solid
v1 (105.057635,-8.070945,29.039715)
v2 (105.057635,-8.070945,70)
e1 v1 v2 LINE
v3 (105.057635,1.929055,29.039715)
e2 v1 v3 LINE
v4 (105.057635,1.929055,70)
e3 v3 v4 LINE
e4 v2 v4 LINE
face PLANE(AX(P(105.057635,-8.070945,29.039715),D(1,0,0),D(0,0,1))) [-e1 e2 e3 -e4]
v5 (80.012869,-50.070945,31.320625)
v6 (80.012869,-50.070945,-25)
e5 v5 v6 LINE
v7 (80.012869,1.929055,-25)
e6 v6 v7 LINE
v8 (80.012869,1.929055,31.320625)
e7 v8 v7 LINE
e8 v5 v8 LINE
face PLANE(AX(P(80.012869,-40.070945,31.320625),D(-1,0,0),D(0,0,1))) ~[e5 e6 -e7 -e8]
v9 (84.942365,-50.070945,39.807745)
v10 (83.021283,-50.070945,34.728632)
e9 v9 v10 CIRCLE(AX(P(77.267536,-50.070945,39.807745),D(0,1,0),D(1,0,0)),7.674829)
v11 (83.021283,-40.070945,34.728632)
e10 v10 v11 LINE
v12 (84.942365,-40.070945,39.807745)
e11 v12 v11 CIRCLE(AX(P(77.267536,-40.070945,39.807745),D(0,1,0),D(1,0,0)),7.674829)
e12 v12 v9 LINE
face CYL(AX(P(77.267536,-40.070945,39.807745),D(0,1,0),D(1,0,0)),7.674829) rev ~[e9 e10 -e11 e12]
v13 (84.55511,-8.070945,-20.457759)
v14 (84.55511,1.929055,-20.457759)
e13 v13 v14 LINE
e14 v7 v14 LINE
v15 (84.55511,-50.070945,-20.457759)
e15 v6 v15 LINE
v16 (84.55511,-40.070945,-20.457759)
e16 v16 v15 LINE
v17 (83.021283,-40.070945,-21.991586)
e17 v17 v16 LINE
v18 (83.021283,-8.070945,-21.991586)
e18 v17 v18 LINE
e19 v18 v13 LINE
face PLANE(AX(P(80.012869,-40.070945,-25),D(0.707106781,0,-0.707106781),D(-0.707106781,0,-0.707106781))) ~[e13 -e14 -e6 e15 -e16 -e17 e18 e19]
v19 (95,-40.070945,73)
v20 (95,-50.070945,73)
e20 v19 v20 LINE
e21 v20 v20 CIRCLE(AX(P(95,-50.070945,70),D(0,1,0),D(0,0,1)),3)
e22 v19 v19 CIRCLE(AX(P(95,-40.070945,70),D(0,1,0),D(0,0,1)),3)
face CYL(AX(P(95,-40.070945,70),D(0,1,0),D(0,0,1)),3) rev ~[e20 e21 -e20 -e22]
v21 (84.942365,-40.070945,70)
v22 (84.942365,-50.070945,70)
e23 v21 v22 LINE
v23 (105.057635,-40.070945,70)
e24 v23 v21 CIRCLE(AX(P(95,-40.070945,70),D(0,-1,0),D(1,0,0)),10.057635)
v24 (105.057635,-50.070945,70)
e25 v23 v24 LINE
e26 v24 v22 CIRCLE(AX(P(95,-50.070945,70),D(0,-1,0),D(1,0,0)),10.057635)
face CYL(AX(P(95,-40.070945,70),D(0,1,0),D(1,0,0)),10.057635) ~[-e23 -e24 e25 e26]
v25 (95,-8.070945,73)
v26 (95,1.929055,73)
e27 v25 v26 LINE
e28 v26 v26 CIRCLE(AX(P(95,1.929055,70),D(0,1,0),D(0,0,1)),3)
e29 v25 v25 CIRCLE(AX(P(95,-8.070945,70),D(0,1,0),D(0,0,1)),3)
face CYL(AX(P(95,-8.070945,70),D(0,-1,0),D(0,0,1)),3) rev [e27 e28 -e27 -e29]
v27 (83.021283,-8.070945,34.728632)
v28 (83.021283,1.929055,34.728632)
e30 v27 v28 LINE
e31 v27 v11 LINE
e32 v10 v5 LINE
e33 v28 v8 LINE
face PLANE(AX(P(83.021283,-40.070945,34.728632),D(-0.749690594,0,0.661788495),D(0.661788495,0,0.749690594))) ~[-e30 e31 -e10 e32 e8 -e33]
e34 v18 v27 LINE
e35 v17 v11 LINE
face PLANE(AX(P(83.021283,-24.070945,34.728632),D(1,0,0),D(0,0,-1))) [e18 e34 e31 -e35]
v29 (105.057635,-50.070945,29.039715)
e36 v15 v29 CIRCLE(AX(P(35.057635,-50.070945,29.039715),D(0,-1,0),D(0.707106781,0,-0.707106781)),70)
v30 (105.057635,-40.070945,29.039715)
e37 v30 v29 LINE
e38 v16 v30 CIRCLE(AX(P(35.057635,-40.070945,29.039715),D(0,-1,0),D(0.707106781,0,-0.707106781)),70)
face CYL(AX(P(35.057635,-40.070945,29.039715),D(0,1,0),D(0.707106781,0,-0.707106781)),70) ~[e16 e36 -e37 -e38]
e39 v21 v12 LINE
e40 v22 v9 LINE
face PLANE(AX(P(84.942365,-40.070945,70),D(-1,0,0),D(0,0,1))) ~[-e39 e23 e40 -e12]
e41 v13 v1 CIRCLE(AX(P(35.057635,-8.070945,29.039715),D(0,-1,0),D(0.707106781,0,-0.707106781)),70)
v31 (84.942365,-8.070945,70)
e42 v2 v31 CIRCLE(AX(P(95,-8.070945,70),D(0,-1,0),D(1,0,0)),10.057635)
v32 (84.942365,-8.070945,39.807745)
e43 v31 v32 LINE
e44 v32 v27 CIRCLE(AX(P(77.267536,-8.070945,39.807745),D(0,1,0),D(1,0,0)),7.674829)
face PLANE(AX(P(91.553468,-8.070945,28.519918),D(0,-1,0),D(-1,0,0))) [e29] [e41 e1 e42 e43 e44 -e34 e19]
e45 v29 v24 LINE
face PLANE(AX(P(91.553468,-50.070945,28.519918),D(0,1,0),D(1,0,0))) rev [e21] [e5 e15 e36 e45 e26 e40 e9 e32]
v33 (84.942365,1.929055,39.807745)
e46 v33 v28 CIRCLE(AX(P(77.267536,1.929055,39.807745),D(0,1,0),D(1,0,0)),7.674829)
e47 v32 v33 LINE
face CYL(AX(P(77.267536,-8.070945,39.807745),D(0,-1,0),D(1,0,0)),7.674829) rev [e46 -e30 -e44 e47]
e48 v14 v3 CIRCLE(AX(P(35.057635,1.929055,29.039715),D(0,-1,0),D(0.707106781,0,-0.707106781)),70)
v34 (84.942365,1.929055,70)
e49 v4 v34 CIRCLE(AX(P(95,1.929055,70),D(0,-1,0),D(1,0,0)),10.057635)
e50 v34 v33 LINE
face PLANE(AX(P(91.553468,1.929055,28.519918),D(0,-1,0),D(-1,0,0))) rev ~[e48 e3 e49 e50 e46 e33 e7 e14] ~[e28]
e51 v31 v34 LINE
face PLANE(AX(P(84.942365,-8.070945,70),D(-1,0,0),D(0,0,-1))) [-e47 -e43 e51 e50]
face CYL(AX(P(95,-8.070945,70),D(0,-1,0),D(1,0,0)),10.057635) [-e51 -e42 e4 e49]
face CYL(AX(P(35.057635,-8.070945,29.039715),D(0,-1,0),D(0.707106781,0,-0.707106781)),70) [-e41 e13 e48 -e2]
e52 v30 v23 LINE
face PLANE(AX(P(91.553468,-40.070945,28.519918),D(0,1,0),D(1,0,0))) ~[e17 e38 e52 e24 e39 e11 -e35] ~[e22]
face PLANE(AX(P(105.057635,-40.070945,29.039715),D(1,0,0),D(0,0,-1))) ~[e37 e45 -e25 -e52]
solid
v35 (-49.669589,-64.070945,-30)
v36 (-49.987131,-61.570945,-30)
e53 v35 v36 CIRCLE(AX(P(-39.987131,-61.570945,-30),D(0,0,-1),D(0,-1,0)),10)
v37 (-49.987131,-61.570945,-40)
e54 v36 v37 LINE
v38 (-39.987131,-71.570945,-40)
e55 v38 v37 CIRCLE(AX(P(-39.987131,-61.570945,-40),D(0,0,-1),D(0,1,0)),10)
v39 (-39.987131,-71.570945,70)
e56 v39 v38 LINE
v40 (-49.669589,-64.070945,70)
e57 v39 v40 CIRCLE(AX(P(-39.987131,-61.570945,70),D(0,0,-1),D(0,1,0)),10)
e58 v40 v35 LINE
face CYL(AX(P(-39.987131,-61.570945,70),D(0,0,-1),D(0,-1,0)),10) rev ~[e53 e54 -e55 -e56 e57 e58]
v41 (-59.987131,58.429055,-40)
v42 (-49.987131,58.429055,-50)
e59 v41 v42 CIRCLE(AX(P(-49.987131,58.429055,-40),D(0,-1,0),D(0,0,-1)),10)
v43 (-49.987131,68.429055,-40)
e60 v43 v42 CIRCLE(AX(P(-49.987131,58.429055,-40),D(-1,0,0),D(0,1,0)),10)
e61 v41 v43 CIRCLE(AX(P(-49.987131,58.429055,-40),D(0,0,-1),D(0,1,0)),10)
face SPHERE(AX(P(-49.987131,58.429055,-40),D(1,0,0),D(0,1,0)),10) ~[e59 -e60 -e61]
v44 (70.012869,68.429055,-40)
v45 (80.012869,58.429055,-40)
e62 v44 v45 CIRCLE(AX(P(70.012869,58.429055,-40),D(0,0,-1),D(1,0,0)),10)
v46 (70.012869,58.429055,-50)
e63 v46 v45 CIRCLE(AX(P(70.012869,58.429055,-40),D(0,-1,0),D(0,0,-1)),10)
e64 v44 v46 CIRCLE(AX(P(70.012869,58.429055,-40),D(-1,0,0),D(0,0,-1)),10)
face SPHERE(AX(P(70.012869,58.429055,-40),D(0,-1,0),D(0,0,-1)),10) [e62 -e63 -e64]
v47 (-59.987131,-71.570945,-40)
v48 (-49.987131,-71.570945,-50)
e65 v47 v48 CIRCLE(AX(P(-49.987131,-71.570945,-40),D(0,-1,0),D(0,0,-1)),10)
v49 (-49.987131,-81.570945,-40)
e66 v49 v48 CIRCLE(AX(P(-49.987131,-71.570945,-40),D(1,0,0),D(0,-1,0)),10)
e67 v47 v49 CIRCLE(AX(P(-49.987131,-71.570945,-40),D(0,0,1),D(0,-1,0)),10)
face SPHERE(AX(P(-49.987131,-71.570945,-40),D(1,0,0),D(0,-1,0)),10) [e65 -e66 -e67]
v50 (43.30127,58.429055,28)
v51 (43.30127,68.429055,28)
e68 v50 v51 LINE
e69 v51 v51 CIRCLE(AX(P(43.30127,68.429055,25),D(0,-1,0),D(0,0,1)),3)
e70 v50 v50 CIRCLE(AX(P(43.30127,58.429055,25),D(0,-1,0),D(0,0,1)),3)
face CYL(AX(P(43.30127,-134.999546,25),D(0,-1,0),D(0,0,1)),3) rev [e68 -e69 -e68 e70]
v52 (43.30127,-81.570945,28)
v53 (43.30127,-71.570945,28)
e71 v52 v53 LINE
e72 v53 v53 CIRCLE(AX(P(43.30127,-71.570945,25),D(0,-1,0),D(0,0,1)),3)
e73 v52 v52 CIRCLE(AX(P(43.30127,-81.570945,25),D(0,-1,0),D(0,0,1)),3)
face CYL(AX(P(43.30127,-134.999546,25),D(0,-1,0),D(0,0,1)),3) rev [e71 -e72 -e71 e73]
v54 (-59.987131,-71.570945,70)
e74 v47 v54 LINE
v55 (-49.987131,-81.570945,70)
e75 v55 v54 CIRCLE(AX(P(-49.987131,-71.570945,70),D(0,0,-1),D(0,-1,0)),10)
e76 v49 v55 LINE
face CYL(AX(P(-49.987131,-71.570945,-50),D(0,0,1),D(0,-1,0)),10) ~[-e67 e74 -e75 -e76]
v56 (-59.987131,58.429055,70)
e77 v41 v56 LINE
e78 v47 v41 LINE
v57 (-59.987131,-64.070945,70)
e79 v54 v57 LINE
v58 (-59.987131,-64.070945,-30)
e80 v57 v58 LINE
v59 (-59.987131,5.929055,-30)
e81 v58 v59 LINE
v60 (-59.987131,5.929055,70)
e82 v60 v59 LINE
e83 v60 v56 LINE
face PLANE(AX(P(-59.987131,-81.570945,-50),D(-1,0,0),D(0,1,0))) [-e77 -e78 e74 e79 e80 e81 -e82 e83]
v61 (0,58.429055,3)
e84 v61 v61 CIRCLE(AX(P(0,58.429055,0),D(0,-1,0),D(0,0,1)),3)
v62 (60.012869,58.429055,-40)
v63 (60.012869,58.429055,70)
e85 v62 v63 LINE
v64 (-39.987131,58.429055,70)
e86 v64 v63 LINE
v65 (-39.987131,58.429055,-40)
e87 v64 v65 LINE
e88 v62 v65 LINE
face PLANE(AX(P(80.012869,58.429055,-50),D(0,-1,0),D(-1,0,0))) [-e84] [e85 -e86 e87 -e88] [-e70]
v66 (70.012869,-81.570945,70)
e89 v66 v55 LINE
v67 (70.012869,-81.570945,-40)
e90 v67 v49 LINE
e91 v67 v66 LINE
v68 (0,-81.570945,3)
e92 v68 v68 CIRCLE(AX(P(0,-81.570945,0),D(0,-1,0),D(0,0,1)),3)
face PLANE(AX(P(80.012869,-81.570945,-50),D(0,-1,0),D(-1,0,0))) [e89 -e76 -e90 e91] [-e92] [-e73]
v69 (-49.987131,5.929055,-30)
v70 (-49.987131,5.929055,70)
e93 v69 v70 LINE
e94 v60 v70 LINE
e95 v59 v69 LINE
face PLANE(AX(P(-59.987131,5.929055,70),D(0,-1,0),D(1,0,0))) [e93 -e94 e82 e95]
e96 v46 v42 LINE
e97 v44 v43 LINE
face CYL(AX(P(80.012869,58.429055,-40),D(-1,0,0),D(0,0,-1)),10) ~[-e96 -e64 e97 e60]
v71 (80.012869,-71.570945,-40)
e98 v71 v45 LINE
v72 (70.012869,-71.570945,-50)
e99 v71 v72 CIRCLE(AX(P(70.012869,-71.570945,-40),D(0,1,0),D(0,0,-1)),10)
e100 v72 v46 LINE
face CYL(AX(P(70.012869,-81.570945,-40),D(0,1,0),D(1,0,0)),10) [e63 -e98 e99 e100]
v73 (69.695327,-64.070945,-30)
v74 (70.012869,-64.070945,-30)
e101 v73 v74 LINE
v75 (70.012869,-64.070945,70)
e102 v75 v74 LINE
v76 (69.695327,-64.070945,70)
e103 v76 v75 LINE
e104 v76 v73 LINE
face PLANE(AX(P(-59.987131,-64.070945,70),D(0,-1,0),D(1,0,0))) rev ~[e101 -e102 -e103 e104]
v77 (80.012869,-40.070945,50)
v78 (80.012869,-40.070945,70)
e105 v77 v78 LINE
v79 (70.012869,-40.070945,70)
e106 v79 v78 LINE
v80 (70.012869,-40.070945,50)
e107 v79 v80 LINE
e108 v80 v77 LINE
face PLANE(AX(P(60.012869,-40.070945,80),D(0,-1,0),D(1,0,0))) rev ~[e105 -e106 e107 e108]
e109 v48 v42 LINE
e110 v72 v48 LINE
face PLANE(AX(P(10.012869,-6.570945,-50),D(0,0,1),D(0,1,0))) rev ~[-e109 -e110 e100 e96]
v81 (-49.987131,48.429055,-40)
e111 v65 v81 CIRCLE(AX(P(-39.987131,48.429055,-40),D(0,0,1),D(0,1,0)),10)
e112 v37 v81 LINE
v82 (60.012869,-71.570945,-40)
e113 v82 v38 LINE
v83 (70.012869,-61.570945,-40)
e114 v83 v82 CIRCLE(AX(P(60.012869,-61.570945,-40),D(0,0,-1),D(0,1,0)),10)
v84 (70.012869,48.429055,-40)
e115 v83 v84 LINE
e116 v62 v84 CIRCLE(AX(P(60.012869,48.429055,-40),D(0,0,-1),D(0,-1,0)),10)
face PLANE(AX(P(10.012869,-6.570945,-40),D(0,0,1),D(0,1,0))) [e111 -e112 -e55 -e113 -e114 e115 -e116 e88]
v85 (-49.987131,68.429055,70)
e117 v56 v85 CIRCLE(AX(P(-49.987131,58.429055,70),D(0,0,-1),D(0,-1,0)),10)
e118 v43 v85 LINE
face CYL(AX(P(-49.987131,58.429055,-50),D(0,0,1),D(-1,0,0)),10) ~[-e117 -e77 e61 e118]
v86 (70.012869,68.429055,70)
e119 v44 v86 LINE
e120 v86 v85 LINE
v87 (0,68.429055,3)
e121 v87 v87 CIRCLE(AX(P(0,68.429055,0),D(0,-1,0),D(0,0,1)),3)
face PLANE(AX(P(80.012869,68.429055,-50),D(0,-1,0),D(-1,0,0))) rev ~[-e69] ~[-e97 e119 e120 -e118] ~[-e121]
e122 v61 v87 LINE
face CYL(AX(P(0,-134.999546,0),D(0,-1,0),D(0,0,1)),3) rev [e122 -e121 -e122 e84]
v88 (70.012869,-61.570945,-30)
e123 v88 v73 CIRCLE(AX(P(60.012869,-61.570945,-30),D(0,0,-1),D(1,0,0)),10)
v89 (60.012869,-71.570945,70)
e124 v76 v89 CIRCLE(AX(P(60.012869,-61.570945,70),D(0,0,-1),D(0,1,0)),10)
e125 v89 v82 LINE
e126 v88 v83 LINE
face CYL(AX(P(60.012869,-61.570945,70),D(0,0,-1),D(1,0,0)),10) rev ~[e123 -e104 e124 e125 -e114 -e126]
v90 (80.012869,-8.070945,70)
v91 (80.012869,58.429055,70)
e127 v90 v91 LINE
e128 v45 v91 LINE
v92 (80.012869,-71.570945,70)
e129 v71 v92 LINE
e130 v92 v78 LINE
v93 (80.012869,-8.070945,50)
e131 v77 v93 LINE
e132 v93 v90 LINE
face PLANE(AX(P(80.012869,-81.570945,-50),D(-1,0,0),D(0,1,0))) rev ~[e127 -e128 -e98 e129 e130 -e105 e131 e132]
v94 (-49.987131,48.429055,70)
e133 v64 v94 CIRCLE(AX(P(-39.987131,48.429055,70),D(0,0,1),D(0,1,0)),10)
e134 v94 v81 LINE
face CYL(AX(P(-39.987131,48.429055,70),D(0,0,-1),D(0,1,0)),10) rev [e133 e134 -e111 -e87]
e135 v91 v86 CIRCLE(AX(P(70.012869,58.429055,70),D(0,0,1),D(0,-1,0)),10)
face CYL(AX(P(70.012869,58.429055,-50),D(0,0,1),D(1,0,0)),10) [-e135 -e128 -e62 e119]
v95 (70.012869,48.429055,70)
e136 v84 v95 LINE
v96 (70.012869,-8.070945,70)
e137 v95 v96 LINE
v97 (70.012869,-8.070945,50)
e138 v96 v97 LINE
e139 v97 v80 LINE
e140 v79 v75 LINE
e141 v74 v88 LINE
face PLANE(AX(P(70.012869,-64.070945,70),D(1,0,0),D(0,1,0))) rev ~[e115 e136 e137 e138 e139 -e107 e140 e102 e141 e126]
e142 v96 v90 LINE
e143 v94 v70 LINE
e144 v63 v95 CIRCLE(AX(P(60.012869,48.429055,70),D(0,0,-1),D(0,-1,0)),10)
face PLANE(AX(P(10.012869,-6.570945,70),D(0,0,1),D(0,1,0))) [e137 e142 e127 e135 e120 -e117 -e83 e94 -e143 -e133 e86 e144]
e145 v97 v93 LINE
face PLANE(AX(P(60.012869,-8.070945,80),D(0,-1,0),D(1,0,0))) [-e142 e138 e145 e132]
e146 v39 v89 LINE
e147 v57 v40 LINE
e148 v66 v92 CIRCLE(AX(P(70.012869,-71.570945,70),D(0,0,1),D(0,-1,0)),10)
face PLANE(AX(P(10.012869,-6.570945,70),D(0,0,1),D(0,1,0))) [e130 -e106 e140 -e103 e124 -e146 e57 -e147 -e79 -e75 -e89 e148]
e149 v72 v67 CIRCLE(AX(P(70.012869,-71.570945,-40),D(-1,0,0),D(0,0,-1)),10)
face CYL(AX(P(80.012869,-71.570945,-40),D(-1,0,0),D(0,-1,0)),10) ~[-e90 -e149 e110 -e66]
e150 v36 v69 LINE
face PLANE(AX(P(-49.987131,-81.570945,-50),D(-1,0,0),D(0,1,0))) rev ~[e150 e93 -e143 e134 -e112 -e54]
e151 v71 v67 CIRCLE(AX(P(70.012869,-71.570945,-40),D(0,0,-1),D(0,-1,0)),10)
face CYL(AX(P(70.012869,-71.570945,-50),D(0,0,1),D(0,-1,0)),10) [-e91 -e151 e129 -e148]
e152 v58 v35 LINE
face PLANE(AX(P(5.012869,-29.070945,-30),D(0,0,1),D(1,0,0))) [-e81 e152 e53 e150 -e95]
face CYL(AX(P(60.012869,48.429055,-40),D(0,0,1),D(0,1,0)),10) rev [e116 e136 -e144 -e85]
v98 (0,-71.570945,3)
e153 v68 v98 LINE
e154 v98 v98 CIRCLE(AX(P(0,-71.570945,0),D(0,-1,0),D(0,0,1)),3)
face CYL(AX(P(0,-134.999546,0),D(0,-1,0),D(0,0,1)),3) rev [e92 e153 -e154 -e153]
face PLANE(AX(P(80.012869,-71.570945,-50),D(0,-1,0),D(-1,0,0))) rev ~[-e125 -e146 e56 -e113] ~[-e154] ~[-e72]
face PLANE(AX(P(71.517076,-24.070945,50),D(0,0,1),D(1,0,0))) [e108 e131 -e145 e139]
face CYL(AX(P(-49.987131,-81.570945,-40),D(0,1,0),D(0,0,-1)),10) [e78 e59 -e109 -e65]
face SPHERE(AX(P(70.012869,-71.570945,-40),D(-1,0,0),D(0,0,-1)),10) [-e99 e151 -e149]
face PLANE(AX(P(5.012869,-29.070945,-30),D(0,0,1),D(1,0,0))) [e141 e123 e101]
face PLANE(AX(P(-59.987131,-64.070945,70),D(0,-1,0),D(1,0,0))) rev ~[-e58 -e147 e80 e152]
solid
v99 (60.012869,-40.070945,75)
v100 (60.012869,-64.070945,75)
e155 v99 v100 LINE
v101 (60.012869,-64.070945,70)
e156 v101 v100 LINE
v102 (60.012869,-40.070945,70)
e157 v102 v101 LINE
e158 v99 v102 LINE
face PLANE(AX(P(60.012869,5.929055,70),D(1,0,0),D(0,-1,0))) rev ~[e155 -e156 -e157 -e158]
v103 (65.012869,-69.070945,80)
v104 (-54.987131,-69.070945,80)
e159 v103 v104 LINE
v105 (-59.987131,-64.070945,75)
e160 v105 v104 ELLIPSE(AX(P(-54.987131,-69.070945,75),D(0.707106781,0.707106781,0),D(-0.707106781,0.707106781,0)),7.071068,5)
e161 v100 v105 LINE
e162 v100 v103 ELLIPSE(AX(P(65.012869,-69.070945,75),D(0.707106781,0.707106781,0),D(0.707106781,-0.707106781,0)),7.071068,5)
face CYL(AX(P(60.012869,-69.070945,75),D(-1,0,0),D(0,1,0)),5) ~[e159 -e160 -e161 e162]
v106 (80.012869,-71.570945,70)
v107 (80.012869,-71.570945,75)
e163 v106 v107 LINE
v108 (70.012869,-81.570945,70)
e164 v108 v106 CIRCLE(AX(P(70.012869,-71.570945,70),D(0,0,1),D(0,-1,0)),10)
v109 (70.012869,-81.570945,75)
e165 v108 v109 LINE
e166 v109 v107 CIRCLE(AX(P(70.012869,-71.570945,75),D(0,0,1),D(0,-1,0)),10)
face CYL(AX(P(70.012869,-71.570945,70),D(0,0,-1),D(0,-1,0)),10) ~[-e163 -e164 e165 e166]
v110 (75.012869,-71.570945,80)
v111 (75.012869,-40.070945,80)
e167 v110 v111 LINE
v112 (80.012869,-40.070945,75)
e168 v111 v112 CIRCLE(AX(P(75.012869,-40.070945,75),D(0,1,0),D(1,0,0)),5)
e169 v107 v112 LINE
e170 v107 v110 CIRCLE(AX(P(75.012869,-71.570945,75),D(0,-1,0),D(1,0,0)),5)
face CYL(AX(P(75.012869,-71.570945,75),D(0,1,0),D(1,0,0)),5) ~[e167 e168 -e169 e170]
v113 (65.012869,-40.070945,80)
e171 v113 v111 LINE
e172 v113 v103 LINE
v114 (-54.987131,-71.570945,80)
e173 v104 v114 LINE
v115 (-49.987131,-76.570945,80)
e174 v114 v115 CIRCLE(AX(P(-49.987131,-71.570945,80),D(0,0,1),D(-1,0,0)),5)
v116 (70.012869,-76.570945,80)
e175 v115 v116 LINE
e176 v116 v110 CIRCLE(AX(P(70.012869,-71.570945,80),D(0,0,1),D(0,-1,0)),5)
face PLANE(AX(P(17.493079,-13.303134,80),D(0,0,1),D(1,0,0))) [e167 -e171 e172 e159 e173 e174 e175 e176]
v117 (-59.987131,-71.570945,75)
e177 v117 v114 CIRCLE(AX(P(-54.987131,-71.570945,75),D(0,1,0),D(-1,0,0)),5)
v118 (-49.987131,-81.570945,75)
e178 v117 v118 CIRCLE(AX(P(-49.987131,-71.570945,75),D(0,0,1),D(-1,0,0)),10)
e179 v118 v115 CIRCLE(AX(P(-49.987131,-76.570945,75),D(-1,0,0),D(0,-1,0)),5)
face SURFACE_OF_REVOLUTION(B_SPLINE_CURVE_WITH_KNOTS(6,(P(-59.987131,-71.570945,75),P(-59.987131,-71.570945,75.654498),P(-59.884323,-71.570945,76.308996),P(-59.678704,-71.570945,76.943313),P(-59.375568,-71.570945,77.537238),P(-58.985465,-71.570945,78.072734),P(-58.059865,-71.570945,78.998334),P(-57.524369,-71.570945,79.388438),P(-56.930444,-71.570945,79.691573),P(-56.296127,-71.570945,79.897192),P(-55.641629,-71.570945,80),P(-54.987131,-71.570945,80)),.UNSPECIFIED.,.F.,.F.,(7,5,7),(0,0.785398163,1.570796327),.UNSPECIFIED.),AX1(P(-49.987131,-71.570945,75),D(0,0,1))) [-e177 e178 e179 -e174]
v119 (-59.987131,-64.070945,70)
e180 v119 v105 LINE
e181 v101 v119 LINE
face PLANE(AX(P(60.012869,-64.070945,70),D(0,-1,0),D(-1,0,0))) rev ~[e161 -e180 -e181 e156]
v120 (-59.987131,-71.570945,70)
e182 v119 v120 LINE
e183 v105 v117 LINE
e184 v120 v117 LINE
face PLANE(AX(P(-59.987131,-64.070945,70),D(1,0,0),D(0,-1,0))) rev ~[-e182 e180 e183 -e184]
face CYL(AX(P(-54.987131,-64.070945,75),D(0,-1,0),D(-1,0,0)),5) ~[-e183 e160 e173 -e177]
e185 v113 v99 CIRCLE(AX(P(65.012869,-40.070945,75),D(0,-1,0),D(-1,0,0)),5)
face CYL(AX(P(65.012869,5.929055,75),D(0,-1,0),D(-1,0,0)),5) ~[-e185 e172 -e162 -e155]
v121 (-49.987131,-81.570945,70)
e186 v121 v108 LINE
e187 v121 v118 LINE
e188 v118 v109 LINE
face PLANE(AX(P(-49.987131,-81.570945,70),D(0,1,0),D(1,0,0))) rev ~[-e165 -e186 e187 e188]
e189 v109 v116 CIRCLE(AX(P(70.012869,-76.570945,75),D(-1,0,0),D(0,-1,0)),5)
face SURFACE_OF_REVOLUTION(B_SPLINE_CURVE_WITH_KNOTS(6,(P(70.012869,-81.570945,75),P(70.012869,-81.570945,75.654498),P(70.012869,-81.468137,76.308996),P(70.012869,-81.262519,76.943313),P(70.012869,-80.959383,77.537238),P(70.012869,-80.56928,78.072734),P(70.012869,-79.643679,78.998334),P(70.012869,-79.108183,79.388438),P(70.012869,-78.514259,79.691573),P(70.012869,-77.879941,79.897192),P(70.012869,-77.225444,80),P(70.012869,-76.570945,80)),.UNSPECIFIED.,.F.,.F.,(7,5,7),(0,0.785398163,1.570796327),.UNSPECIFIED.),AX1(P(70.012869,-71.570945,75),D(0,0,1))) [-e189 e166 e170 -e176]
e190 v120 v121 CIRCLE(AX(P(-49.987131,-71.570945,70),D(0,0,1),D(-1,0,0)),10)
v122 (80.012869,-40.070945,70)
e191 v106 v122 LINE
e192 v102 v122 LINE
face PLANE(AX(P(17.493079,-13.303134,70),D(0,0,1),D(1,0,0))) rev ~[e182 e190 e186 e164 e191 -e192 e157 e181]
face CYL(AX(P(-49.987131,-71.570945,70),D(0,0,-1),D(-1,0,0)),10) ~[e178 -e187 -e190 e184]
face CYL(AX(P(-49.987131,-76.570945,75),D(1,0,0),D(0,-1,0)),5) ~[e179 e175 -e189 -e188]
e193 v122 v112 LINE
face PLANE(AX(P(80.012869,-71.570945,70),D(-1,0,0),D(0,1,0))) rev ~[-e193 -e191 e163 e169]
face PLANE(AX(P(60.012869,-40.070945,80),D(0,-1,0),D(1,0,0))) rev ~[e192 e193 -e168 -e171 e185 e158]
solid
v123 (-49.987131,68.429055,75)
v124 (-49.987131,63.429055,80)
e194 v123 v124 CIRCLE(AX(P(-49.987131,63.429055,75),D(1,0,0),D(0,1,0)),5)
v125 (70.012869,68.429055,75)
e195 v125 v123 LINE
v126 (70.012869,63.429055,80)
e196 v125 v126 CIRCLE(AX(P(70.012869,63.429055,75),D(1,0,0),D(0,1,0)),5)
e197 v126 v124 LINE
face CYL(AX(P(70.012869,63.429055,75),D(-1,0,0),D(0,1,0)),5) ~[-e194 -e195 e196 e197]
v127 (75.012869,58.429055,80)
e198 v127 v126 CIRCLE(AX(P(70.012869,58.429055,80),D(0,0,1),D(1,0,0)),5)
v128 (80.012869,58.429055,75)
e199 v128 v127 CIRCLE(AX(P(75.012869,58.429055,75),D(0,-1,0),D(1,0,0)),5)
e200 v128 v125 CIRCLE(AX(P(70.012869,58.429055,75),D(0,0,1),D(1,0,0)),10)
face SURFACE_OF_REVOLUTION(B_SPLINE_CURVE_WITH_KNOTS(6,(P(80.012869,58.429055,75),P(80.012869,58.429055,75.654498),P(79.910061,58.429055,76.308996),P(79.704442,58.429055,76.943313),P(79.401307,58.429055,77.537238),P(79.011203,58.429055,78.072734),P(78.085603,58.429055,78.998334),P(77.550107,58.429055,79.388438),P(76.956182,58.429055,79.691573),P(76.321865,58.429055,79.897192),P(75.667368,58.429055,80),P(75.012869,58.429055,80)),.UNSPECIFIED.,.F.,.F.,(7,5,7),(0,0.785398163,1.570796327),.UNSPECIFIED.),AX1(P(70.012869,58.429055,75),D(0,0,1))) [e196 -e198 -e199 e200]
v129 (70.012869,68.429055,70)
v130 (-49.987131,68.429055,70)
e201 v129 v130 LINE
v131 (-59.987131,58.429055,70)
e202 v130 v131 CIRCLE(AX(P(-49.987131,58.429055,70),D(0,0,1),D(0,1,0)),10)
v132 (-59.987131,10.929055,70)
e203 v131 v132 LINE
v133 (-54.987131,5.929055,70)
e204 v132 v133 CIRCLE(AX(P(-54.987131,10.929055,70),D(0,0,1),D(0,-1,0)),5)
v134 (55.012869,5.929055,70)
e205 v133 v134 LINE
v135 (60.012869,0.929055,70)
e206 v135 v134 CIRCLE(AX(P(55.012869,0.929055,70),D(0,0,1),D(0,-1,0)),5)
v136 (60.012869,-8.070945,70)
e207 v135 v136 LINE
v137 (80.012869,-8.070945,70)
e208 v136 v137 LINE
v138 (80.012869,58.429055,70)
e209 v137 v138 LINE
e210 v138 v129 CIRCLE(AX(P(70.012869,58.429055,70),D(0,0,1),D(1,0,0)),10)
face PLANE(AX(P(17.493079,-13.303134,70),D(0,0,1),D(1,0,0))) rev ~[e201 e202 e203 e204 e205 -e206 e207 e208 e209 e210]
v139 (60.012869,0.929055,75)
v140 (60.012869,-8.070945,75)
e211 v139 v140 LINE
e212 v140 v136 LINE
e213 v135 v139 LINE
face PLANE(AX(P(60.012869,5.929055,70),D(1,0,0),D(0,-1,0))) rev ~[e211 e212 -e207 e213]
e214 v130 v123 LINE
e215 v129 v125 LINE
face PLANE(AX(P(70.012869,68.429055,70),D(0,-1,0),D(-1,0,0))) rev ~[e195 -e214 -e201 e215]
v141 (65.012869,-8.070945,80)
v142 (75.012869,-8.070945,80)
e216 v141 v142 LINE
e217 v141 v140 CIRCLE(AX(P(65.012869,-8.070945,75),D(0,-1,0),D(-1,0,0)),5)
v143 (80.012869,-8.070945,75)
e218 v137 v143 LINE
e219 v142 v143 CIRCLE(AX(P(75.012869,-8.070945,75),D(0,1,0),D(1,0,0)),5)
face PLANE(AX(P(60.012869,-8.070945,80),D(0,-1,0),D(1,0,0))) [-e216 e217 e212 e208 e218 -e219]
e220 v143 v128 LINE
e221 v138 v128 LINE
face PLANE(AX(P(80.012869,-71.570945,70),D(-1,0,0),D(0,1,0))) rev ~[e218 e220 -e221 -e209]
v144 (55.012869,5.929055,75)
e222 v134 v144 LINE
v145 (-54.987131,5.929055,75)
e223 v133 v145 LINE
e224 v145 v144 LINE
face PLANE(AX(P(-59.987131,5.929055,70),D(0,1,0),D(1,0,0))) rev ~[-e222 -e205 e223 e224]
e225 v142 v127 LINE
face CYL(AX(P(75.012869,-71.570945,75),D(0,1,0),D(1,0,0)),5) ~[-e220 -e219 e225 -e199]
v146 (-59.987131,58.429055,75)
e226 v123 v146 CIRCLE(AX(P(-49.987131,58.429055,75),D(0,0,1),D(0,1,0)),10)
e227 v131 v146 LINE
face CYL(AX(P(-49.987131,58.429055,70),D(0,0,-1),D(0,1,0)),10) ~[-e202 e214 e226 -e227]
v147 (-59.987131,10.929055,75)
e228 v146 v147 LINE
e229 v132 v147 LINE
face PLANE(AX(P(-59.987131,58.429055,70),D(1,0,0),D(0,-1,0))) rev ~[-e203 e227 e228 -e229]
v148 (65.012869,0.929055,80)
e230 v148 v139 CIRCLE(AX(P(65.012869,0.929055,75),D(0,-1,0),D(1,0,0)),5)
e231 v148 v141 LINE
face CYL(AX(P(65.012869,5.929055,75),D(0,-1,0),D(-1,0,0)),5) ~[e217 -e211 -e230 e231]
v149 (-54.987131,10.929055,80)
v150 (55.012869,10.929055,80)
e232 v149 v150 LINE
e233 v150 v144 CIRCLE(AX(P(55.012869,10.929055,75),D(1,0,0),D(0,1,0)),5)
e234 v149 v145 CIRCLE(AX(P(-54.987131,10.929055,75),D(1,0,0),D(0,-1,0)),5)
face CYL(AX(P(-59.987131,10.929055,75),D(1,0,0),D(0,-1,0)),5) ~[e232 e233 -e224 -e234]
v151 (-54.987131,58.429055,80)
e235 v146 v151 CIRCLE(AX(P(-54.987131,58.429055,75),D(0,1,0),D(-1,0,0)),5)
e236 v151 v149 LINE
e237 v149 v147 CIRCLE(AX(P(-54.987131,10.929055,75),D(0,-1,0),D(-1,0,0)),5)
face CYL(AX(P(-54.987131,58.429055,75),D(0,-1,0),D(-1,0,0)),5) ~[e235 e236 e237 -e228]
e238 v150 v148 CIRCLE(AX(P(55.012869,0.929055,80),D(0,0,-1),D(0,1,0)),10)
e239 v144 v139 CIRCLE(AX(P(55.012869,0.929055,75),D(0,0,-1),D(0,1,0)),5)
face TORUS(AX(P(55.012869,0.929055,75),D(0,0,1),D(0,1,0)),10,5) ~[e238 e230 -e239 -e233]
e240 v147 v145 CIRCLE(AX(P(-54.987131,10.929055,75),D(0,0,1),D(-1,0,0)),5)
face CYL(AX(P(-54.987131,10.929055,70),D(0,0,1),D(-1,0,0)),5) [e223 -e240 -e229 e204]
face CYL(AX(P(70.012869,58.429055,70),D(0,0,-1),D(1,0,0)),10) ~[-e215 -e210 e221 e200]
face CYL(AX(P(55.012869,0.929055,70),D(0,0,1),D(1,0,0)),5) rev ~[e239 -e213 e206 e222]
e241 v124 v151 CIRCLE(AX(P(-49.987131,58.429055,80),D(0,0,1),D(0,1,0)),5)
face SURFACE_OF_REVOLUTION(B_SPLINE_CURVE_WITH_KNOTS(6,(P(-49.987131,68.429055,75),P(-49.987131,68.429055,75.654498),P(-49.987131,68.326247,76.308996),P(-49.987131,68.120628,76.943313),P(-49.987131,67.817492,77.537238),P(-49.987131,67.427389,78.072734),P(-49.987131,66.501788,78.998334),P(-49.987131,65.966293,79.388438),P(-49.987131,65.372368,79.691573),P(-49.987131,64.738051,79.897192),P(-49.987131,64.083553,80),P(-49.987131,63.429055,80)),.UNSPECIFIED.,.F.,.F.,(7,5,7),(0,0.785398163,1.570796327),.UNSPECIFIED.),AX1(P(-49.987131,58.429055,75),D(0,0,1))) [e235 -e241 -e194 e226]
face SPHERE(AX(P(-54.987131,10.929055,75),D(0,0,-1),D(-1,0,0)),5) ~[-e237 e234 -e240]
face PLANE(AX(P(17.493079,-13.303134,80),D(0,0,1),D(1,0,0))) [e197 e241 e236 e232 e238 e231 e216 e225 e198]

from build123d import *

# Parameters (mm, degrees)
SALIENTE_EXTRUIR1_DEPTH      = 70
SALIENTE_EXTRUIR1_DEPTH_BACK = 50
CROQUIS2_W                   = 150
CROQUIS2_H                   = 140
VACIADO1_T                   = -10
CORTAR_EXTRUIR1_DEPTH        = 134.999546005
CORTAR_EXTRUIR1_DEPTH_BACK   = 134.999546005
CROQUIS4_R                   = 3
REDONDEO9_R                  = 10
CROQUIS6_W                   = 130
CROQUIS6_H                   = 70
CORTAR_EXTRUIR3_DEPTH        = 100
SALIENTE_EXTRUIR2_DEPTH      = 10
REDONDEO17_R                 = 5
SALIENTE_EXTRUIR3_START      = 16
CROQUIS8_R                   = 3
SALIENTE_EXTRUIR3_DEPTH      = 10
SALIENTE_EXTRUIR4_DEPTH      = 25
CROQUIS11_W                  = 23.008413994
CROQUIS11_H                  = 32
CORTAR_EXTRUIR4_DEPTH        = 30


with BuildPart() as part:
    # Croquis2 → Saliente-Extruir1 (new, two sides: drawn at the far end of the back side and taken through both)
    with BuildSketch(Plane(origin=(0, 0, 0), x_dir=(0, 1, 0), z_dir=(0, 0, 1)).offset(-SALIENTE_EXTRUIR1_DEPTH_BACK)):
        with Locations((-6.570945305, -10.012869037)):
            Rectangle(CROQUIS2_W, CROQUIS2_H)
    extrude(amount=SALIENTE_EXTRUIR1_DEPTH + SALIENTE_EXTRUIR1_DEPTH_BACK)

    # Vaciado1
    vaciado1_openings = [part.faces().sort_by_distance(p)[0] for p in [
        (10.012869037, -6.570945305, 70),
    ]]
    offset(amount=VACIADO1_T, openings=vaciado1_openings, kind=Kind.INTERSECTION)

    # Croquis4 → Cortar-Extruir1 (cut, two sides: drawn at the far end of the back side and taken through both)
    with BuildSketch(Plane(origin=(0, 0, 0), x_dir=(-1, 0, 0), z_dir=(0, 1, 0)).offset(-CORTAR_EXTRUIR1_DEPTH_BACK)):
        Circle(CROQUIS4_R)
        with Locations((-43.301270189, 25)):
            Circle(CROQUIS4_R)
    extrude(amount=CORTAR_EXTRUIR1_DEPTH + CORTAR_EXTRUIR1_DEPTH_BACK, mode=Mode.SUBTRACT)

    # Redondeo9
    redondeo9_edges = [part.edges().sort_by_distance(p)[0] for p in [
        (-59.987130963, -6.570945305, -50),
        (-59.987130963, 68.429054695, 10),
        (10.012869037, -81.570945305, -50),
        (-59.987130963, -81.570945305, 10),
        (80.012869037, -6.570945305, -50),
        (80.012869037, -81.570945305, 10),
        (80.012869037, 68.429054695, 10),
        (10.012869037, 68.429054695, -50),
        (70.012869037, 58.429054695, 15),
        (70.012869037, -71.570945305, 15),
        (-49.987130963, 58.429054695, 15),
        (-49.987130963, -71.570945305, 15),
    ]]
    fillet(redondeo9_edges, radius=REDONDEO9_R)

    # Croquis6 → Cortar-Extruir3 (cut)
    with BuildSketch(Plane.XY.offset(70)):
        with Locations((5.012869037, -29.070945305)):
            Rectangle(CROQUIS6_W, CROQUIS6_H)
    extrude(amount=-CORTAR_EXTRUIR3_DEPTH, mode=Mode.SUBTRACT)


with BuildPart() as body_2:
    # Croquis7 → Saliente-Extruir2 (new body)
    with BuildSketch(Plane.XY.offset(70)):
        with BuildLine():
            Line((60.012869037, 5.929054695), (60.012869037, -8.070945305))
            Line((60.012869037, -8.070945305), (60.012869037, -40.070945305))
            Line((60.012869037, -40.070945305), (60.012869037, -64.070945305))
            Line((60.012869037, -64.070945305), (-59.987130963, -64.070945305))
            Line((-59.987130963, -64.070945305), (-59.987130963, -71.570945305))
            ThreePointArc((-59.987130963, -71.570945305), (-57.058198775, -78.642013117), (-49.987130963, -81.570945305))
            Line((-49.987130963, -81.570945305), (70.012869037, -81.570945305))
            ThreePointArc((70.012869037, -81.570945305), (77.083936849, -78.642013117), (80.012869037, -71.570945305))
            Line((80.012869037, -71.570945305), (80.012869037, -40.070945305))
            Line((80.012869037, -40.070945305), (80.012869037, -8.070945305))
            Line((80.012869037, -8.070945305), (80.012869037, 58.429054695))
            ThreePointArc((80.012869037, 58.429054695), (77.083936849, 65.500122507), (70.012869037, 68.429054695))
            Line((70.012869037, 68.429054695), (-49.987130963, 68.429054695))
            ThreePointArc((-49.987130963, 68.429054695), (-57.058198775, 65.500122507), (-59.987130963, 58.429054695))
            Line((-59.987130963, 58.429054695), (-59.987130963, 5.929054695))
            Line((-59.987130963, 5.929054695), (60.012869037, 5.929054695))
        make_face()
    extrude(amount=SALIENTE_EXTRUIR2_DEPTH)

    # Redondeo17
    redondeo17_edges = [body_2.edges().sort_by_distance(p)[0] for p in [
        (-59.987130963, -67.820945305, 80),
        (-57.058198775, -78.642013117, 80),
        (10.012869037, -81.570945305, 80),
        (77.083936849, -78.642013117, 80),
        (80.012869037, -6.570945305, 80),
        (77.083936849, 65.500122507, 80),
        (10.012869037, 68.429054695, 80),
        (-57.058198775, 65.500122507, 80),
        (-59.987130963, 32.179054695, 80),
        (60.012869037, 5.929054695, 75),
        (60.012869037, -29.070945305, 80),
        (0.012869037, -64.070945305, 80),
        (0.012869037, 5.929054695, 80),
        (-59.987130963, 5.929054695, 75),
    ]]
    fillet(redondeo17_edges, radius=REDONDEO17_R)


with BuildPart() as body_3:
    # Croquis8 → Saliente-Extruir3 (new body)
    with BuildSketch(Plane(origin=(0, -24.070945305, 0), x_dir=(1, 0, 0), z_dir=(0, 1, 0)).offset(SALIENTE_EXTRUIR3_START)):
        with BuildLine():
            Line((80.012869037, 25), (84.555109789, 20.457759248))
            ThreePointArc((84.555109789, 20.457759248), (99.729202381, -2.25187517), (105.057635106, -29.039715435))
            Line((105.057635106, -29.039715435), (105.057635106, -70))
            ThreePointArc((105.057635106, -70), (95, -80.057635106), (84.942364894, -70))
            Line((84.942364894, -70), (84.942364894, -39.807745342))
            ThreePointArc((84.942364894, -39.807745342), (84.446046379, -37.092604956), (83.021283031, -34.728631862))
            Line((83.021283031, -34.728631862), (80.012869037, -31.320625087))
            Line((80.012869037, -31.320625087), (80.012869037, 25))
        make_face()
        with Locations((95, -70)):
            Circle(CROQUIS8_R, mode=Mode.SUBTRACT)
    extrude(amount=SALIENTE_EXTRUIR3_DEPTH)


with BuildPart() as body_4:
    # Simetría1: mirrored copy
    add(body_3.part.mirror(Plane.ZX.offset(-24.070945305)))


    add(body_3.part)  # Saliente-Extruir4 merges body 3
    # Croquis10 → Saliente-Extruir4 (add, symmetric)
    with BuildSketch(Plane(origin=(0, -24.070945305, 0), x_dir=(1, 0, 0), z_dir=(0, 1, 0))):
        Polygon((83.021283031, -34.728631862), (83.021283031, 21.991586006), (80.012869037, 25), (80.012869037, -31.320625087), align=None)
    extrude(amount=SALIENTE_EXTRUIR4_DEPTH, both=True)


with BuildPart() as cortar_extruir4_tool:
    # Croquis11 → Cortar-Extruir4 (new body)
    with BuildSketch(Plane.XY.offset(80)):
        with Locations((71.517076034, -24.070945305)):
            Rectangle(CROQUIS11_W, CROQUIS11_H)
    extrude(amount=-CORTAR_EXTRUIR4_DEPTH)


with BuildPart() as part_1:
    add(part.part)

    # Cortar-Extruir4: cut by cortar_extruir4_tool
    add(cortar_extruir4_tool.part, mode=Mode.SUBTRACT)


with BuildPart() as body_2_1:
    add(body_2.part)

    # Cortar-Extruir4: cut by cortar_extruir4_tool
    add(cortar_extruir4_tool.part, mode=Mode.SUBTRACT)


solid = Compound([body_4.part, part_1.part, body_2_1.part])
